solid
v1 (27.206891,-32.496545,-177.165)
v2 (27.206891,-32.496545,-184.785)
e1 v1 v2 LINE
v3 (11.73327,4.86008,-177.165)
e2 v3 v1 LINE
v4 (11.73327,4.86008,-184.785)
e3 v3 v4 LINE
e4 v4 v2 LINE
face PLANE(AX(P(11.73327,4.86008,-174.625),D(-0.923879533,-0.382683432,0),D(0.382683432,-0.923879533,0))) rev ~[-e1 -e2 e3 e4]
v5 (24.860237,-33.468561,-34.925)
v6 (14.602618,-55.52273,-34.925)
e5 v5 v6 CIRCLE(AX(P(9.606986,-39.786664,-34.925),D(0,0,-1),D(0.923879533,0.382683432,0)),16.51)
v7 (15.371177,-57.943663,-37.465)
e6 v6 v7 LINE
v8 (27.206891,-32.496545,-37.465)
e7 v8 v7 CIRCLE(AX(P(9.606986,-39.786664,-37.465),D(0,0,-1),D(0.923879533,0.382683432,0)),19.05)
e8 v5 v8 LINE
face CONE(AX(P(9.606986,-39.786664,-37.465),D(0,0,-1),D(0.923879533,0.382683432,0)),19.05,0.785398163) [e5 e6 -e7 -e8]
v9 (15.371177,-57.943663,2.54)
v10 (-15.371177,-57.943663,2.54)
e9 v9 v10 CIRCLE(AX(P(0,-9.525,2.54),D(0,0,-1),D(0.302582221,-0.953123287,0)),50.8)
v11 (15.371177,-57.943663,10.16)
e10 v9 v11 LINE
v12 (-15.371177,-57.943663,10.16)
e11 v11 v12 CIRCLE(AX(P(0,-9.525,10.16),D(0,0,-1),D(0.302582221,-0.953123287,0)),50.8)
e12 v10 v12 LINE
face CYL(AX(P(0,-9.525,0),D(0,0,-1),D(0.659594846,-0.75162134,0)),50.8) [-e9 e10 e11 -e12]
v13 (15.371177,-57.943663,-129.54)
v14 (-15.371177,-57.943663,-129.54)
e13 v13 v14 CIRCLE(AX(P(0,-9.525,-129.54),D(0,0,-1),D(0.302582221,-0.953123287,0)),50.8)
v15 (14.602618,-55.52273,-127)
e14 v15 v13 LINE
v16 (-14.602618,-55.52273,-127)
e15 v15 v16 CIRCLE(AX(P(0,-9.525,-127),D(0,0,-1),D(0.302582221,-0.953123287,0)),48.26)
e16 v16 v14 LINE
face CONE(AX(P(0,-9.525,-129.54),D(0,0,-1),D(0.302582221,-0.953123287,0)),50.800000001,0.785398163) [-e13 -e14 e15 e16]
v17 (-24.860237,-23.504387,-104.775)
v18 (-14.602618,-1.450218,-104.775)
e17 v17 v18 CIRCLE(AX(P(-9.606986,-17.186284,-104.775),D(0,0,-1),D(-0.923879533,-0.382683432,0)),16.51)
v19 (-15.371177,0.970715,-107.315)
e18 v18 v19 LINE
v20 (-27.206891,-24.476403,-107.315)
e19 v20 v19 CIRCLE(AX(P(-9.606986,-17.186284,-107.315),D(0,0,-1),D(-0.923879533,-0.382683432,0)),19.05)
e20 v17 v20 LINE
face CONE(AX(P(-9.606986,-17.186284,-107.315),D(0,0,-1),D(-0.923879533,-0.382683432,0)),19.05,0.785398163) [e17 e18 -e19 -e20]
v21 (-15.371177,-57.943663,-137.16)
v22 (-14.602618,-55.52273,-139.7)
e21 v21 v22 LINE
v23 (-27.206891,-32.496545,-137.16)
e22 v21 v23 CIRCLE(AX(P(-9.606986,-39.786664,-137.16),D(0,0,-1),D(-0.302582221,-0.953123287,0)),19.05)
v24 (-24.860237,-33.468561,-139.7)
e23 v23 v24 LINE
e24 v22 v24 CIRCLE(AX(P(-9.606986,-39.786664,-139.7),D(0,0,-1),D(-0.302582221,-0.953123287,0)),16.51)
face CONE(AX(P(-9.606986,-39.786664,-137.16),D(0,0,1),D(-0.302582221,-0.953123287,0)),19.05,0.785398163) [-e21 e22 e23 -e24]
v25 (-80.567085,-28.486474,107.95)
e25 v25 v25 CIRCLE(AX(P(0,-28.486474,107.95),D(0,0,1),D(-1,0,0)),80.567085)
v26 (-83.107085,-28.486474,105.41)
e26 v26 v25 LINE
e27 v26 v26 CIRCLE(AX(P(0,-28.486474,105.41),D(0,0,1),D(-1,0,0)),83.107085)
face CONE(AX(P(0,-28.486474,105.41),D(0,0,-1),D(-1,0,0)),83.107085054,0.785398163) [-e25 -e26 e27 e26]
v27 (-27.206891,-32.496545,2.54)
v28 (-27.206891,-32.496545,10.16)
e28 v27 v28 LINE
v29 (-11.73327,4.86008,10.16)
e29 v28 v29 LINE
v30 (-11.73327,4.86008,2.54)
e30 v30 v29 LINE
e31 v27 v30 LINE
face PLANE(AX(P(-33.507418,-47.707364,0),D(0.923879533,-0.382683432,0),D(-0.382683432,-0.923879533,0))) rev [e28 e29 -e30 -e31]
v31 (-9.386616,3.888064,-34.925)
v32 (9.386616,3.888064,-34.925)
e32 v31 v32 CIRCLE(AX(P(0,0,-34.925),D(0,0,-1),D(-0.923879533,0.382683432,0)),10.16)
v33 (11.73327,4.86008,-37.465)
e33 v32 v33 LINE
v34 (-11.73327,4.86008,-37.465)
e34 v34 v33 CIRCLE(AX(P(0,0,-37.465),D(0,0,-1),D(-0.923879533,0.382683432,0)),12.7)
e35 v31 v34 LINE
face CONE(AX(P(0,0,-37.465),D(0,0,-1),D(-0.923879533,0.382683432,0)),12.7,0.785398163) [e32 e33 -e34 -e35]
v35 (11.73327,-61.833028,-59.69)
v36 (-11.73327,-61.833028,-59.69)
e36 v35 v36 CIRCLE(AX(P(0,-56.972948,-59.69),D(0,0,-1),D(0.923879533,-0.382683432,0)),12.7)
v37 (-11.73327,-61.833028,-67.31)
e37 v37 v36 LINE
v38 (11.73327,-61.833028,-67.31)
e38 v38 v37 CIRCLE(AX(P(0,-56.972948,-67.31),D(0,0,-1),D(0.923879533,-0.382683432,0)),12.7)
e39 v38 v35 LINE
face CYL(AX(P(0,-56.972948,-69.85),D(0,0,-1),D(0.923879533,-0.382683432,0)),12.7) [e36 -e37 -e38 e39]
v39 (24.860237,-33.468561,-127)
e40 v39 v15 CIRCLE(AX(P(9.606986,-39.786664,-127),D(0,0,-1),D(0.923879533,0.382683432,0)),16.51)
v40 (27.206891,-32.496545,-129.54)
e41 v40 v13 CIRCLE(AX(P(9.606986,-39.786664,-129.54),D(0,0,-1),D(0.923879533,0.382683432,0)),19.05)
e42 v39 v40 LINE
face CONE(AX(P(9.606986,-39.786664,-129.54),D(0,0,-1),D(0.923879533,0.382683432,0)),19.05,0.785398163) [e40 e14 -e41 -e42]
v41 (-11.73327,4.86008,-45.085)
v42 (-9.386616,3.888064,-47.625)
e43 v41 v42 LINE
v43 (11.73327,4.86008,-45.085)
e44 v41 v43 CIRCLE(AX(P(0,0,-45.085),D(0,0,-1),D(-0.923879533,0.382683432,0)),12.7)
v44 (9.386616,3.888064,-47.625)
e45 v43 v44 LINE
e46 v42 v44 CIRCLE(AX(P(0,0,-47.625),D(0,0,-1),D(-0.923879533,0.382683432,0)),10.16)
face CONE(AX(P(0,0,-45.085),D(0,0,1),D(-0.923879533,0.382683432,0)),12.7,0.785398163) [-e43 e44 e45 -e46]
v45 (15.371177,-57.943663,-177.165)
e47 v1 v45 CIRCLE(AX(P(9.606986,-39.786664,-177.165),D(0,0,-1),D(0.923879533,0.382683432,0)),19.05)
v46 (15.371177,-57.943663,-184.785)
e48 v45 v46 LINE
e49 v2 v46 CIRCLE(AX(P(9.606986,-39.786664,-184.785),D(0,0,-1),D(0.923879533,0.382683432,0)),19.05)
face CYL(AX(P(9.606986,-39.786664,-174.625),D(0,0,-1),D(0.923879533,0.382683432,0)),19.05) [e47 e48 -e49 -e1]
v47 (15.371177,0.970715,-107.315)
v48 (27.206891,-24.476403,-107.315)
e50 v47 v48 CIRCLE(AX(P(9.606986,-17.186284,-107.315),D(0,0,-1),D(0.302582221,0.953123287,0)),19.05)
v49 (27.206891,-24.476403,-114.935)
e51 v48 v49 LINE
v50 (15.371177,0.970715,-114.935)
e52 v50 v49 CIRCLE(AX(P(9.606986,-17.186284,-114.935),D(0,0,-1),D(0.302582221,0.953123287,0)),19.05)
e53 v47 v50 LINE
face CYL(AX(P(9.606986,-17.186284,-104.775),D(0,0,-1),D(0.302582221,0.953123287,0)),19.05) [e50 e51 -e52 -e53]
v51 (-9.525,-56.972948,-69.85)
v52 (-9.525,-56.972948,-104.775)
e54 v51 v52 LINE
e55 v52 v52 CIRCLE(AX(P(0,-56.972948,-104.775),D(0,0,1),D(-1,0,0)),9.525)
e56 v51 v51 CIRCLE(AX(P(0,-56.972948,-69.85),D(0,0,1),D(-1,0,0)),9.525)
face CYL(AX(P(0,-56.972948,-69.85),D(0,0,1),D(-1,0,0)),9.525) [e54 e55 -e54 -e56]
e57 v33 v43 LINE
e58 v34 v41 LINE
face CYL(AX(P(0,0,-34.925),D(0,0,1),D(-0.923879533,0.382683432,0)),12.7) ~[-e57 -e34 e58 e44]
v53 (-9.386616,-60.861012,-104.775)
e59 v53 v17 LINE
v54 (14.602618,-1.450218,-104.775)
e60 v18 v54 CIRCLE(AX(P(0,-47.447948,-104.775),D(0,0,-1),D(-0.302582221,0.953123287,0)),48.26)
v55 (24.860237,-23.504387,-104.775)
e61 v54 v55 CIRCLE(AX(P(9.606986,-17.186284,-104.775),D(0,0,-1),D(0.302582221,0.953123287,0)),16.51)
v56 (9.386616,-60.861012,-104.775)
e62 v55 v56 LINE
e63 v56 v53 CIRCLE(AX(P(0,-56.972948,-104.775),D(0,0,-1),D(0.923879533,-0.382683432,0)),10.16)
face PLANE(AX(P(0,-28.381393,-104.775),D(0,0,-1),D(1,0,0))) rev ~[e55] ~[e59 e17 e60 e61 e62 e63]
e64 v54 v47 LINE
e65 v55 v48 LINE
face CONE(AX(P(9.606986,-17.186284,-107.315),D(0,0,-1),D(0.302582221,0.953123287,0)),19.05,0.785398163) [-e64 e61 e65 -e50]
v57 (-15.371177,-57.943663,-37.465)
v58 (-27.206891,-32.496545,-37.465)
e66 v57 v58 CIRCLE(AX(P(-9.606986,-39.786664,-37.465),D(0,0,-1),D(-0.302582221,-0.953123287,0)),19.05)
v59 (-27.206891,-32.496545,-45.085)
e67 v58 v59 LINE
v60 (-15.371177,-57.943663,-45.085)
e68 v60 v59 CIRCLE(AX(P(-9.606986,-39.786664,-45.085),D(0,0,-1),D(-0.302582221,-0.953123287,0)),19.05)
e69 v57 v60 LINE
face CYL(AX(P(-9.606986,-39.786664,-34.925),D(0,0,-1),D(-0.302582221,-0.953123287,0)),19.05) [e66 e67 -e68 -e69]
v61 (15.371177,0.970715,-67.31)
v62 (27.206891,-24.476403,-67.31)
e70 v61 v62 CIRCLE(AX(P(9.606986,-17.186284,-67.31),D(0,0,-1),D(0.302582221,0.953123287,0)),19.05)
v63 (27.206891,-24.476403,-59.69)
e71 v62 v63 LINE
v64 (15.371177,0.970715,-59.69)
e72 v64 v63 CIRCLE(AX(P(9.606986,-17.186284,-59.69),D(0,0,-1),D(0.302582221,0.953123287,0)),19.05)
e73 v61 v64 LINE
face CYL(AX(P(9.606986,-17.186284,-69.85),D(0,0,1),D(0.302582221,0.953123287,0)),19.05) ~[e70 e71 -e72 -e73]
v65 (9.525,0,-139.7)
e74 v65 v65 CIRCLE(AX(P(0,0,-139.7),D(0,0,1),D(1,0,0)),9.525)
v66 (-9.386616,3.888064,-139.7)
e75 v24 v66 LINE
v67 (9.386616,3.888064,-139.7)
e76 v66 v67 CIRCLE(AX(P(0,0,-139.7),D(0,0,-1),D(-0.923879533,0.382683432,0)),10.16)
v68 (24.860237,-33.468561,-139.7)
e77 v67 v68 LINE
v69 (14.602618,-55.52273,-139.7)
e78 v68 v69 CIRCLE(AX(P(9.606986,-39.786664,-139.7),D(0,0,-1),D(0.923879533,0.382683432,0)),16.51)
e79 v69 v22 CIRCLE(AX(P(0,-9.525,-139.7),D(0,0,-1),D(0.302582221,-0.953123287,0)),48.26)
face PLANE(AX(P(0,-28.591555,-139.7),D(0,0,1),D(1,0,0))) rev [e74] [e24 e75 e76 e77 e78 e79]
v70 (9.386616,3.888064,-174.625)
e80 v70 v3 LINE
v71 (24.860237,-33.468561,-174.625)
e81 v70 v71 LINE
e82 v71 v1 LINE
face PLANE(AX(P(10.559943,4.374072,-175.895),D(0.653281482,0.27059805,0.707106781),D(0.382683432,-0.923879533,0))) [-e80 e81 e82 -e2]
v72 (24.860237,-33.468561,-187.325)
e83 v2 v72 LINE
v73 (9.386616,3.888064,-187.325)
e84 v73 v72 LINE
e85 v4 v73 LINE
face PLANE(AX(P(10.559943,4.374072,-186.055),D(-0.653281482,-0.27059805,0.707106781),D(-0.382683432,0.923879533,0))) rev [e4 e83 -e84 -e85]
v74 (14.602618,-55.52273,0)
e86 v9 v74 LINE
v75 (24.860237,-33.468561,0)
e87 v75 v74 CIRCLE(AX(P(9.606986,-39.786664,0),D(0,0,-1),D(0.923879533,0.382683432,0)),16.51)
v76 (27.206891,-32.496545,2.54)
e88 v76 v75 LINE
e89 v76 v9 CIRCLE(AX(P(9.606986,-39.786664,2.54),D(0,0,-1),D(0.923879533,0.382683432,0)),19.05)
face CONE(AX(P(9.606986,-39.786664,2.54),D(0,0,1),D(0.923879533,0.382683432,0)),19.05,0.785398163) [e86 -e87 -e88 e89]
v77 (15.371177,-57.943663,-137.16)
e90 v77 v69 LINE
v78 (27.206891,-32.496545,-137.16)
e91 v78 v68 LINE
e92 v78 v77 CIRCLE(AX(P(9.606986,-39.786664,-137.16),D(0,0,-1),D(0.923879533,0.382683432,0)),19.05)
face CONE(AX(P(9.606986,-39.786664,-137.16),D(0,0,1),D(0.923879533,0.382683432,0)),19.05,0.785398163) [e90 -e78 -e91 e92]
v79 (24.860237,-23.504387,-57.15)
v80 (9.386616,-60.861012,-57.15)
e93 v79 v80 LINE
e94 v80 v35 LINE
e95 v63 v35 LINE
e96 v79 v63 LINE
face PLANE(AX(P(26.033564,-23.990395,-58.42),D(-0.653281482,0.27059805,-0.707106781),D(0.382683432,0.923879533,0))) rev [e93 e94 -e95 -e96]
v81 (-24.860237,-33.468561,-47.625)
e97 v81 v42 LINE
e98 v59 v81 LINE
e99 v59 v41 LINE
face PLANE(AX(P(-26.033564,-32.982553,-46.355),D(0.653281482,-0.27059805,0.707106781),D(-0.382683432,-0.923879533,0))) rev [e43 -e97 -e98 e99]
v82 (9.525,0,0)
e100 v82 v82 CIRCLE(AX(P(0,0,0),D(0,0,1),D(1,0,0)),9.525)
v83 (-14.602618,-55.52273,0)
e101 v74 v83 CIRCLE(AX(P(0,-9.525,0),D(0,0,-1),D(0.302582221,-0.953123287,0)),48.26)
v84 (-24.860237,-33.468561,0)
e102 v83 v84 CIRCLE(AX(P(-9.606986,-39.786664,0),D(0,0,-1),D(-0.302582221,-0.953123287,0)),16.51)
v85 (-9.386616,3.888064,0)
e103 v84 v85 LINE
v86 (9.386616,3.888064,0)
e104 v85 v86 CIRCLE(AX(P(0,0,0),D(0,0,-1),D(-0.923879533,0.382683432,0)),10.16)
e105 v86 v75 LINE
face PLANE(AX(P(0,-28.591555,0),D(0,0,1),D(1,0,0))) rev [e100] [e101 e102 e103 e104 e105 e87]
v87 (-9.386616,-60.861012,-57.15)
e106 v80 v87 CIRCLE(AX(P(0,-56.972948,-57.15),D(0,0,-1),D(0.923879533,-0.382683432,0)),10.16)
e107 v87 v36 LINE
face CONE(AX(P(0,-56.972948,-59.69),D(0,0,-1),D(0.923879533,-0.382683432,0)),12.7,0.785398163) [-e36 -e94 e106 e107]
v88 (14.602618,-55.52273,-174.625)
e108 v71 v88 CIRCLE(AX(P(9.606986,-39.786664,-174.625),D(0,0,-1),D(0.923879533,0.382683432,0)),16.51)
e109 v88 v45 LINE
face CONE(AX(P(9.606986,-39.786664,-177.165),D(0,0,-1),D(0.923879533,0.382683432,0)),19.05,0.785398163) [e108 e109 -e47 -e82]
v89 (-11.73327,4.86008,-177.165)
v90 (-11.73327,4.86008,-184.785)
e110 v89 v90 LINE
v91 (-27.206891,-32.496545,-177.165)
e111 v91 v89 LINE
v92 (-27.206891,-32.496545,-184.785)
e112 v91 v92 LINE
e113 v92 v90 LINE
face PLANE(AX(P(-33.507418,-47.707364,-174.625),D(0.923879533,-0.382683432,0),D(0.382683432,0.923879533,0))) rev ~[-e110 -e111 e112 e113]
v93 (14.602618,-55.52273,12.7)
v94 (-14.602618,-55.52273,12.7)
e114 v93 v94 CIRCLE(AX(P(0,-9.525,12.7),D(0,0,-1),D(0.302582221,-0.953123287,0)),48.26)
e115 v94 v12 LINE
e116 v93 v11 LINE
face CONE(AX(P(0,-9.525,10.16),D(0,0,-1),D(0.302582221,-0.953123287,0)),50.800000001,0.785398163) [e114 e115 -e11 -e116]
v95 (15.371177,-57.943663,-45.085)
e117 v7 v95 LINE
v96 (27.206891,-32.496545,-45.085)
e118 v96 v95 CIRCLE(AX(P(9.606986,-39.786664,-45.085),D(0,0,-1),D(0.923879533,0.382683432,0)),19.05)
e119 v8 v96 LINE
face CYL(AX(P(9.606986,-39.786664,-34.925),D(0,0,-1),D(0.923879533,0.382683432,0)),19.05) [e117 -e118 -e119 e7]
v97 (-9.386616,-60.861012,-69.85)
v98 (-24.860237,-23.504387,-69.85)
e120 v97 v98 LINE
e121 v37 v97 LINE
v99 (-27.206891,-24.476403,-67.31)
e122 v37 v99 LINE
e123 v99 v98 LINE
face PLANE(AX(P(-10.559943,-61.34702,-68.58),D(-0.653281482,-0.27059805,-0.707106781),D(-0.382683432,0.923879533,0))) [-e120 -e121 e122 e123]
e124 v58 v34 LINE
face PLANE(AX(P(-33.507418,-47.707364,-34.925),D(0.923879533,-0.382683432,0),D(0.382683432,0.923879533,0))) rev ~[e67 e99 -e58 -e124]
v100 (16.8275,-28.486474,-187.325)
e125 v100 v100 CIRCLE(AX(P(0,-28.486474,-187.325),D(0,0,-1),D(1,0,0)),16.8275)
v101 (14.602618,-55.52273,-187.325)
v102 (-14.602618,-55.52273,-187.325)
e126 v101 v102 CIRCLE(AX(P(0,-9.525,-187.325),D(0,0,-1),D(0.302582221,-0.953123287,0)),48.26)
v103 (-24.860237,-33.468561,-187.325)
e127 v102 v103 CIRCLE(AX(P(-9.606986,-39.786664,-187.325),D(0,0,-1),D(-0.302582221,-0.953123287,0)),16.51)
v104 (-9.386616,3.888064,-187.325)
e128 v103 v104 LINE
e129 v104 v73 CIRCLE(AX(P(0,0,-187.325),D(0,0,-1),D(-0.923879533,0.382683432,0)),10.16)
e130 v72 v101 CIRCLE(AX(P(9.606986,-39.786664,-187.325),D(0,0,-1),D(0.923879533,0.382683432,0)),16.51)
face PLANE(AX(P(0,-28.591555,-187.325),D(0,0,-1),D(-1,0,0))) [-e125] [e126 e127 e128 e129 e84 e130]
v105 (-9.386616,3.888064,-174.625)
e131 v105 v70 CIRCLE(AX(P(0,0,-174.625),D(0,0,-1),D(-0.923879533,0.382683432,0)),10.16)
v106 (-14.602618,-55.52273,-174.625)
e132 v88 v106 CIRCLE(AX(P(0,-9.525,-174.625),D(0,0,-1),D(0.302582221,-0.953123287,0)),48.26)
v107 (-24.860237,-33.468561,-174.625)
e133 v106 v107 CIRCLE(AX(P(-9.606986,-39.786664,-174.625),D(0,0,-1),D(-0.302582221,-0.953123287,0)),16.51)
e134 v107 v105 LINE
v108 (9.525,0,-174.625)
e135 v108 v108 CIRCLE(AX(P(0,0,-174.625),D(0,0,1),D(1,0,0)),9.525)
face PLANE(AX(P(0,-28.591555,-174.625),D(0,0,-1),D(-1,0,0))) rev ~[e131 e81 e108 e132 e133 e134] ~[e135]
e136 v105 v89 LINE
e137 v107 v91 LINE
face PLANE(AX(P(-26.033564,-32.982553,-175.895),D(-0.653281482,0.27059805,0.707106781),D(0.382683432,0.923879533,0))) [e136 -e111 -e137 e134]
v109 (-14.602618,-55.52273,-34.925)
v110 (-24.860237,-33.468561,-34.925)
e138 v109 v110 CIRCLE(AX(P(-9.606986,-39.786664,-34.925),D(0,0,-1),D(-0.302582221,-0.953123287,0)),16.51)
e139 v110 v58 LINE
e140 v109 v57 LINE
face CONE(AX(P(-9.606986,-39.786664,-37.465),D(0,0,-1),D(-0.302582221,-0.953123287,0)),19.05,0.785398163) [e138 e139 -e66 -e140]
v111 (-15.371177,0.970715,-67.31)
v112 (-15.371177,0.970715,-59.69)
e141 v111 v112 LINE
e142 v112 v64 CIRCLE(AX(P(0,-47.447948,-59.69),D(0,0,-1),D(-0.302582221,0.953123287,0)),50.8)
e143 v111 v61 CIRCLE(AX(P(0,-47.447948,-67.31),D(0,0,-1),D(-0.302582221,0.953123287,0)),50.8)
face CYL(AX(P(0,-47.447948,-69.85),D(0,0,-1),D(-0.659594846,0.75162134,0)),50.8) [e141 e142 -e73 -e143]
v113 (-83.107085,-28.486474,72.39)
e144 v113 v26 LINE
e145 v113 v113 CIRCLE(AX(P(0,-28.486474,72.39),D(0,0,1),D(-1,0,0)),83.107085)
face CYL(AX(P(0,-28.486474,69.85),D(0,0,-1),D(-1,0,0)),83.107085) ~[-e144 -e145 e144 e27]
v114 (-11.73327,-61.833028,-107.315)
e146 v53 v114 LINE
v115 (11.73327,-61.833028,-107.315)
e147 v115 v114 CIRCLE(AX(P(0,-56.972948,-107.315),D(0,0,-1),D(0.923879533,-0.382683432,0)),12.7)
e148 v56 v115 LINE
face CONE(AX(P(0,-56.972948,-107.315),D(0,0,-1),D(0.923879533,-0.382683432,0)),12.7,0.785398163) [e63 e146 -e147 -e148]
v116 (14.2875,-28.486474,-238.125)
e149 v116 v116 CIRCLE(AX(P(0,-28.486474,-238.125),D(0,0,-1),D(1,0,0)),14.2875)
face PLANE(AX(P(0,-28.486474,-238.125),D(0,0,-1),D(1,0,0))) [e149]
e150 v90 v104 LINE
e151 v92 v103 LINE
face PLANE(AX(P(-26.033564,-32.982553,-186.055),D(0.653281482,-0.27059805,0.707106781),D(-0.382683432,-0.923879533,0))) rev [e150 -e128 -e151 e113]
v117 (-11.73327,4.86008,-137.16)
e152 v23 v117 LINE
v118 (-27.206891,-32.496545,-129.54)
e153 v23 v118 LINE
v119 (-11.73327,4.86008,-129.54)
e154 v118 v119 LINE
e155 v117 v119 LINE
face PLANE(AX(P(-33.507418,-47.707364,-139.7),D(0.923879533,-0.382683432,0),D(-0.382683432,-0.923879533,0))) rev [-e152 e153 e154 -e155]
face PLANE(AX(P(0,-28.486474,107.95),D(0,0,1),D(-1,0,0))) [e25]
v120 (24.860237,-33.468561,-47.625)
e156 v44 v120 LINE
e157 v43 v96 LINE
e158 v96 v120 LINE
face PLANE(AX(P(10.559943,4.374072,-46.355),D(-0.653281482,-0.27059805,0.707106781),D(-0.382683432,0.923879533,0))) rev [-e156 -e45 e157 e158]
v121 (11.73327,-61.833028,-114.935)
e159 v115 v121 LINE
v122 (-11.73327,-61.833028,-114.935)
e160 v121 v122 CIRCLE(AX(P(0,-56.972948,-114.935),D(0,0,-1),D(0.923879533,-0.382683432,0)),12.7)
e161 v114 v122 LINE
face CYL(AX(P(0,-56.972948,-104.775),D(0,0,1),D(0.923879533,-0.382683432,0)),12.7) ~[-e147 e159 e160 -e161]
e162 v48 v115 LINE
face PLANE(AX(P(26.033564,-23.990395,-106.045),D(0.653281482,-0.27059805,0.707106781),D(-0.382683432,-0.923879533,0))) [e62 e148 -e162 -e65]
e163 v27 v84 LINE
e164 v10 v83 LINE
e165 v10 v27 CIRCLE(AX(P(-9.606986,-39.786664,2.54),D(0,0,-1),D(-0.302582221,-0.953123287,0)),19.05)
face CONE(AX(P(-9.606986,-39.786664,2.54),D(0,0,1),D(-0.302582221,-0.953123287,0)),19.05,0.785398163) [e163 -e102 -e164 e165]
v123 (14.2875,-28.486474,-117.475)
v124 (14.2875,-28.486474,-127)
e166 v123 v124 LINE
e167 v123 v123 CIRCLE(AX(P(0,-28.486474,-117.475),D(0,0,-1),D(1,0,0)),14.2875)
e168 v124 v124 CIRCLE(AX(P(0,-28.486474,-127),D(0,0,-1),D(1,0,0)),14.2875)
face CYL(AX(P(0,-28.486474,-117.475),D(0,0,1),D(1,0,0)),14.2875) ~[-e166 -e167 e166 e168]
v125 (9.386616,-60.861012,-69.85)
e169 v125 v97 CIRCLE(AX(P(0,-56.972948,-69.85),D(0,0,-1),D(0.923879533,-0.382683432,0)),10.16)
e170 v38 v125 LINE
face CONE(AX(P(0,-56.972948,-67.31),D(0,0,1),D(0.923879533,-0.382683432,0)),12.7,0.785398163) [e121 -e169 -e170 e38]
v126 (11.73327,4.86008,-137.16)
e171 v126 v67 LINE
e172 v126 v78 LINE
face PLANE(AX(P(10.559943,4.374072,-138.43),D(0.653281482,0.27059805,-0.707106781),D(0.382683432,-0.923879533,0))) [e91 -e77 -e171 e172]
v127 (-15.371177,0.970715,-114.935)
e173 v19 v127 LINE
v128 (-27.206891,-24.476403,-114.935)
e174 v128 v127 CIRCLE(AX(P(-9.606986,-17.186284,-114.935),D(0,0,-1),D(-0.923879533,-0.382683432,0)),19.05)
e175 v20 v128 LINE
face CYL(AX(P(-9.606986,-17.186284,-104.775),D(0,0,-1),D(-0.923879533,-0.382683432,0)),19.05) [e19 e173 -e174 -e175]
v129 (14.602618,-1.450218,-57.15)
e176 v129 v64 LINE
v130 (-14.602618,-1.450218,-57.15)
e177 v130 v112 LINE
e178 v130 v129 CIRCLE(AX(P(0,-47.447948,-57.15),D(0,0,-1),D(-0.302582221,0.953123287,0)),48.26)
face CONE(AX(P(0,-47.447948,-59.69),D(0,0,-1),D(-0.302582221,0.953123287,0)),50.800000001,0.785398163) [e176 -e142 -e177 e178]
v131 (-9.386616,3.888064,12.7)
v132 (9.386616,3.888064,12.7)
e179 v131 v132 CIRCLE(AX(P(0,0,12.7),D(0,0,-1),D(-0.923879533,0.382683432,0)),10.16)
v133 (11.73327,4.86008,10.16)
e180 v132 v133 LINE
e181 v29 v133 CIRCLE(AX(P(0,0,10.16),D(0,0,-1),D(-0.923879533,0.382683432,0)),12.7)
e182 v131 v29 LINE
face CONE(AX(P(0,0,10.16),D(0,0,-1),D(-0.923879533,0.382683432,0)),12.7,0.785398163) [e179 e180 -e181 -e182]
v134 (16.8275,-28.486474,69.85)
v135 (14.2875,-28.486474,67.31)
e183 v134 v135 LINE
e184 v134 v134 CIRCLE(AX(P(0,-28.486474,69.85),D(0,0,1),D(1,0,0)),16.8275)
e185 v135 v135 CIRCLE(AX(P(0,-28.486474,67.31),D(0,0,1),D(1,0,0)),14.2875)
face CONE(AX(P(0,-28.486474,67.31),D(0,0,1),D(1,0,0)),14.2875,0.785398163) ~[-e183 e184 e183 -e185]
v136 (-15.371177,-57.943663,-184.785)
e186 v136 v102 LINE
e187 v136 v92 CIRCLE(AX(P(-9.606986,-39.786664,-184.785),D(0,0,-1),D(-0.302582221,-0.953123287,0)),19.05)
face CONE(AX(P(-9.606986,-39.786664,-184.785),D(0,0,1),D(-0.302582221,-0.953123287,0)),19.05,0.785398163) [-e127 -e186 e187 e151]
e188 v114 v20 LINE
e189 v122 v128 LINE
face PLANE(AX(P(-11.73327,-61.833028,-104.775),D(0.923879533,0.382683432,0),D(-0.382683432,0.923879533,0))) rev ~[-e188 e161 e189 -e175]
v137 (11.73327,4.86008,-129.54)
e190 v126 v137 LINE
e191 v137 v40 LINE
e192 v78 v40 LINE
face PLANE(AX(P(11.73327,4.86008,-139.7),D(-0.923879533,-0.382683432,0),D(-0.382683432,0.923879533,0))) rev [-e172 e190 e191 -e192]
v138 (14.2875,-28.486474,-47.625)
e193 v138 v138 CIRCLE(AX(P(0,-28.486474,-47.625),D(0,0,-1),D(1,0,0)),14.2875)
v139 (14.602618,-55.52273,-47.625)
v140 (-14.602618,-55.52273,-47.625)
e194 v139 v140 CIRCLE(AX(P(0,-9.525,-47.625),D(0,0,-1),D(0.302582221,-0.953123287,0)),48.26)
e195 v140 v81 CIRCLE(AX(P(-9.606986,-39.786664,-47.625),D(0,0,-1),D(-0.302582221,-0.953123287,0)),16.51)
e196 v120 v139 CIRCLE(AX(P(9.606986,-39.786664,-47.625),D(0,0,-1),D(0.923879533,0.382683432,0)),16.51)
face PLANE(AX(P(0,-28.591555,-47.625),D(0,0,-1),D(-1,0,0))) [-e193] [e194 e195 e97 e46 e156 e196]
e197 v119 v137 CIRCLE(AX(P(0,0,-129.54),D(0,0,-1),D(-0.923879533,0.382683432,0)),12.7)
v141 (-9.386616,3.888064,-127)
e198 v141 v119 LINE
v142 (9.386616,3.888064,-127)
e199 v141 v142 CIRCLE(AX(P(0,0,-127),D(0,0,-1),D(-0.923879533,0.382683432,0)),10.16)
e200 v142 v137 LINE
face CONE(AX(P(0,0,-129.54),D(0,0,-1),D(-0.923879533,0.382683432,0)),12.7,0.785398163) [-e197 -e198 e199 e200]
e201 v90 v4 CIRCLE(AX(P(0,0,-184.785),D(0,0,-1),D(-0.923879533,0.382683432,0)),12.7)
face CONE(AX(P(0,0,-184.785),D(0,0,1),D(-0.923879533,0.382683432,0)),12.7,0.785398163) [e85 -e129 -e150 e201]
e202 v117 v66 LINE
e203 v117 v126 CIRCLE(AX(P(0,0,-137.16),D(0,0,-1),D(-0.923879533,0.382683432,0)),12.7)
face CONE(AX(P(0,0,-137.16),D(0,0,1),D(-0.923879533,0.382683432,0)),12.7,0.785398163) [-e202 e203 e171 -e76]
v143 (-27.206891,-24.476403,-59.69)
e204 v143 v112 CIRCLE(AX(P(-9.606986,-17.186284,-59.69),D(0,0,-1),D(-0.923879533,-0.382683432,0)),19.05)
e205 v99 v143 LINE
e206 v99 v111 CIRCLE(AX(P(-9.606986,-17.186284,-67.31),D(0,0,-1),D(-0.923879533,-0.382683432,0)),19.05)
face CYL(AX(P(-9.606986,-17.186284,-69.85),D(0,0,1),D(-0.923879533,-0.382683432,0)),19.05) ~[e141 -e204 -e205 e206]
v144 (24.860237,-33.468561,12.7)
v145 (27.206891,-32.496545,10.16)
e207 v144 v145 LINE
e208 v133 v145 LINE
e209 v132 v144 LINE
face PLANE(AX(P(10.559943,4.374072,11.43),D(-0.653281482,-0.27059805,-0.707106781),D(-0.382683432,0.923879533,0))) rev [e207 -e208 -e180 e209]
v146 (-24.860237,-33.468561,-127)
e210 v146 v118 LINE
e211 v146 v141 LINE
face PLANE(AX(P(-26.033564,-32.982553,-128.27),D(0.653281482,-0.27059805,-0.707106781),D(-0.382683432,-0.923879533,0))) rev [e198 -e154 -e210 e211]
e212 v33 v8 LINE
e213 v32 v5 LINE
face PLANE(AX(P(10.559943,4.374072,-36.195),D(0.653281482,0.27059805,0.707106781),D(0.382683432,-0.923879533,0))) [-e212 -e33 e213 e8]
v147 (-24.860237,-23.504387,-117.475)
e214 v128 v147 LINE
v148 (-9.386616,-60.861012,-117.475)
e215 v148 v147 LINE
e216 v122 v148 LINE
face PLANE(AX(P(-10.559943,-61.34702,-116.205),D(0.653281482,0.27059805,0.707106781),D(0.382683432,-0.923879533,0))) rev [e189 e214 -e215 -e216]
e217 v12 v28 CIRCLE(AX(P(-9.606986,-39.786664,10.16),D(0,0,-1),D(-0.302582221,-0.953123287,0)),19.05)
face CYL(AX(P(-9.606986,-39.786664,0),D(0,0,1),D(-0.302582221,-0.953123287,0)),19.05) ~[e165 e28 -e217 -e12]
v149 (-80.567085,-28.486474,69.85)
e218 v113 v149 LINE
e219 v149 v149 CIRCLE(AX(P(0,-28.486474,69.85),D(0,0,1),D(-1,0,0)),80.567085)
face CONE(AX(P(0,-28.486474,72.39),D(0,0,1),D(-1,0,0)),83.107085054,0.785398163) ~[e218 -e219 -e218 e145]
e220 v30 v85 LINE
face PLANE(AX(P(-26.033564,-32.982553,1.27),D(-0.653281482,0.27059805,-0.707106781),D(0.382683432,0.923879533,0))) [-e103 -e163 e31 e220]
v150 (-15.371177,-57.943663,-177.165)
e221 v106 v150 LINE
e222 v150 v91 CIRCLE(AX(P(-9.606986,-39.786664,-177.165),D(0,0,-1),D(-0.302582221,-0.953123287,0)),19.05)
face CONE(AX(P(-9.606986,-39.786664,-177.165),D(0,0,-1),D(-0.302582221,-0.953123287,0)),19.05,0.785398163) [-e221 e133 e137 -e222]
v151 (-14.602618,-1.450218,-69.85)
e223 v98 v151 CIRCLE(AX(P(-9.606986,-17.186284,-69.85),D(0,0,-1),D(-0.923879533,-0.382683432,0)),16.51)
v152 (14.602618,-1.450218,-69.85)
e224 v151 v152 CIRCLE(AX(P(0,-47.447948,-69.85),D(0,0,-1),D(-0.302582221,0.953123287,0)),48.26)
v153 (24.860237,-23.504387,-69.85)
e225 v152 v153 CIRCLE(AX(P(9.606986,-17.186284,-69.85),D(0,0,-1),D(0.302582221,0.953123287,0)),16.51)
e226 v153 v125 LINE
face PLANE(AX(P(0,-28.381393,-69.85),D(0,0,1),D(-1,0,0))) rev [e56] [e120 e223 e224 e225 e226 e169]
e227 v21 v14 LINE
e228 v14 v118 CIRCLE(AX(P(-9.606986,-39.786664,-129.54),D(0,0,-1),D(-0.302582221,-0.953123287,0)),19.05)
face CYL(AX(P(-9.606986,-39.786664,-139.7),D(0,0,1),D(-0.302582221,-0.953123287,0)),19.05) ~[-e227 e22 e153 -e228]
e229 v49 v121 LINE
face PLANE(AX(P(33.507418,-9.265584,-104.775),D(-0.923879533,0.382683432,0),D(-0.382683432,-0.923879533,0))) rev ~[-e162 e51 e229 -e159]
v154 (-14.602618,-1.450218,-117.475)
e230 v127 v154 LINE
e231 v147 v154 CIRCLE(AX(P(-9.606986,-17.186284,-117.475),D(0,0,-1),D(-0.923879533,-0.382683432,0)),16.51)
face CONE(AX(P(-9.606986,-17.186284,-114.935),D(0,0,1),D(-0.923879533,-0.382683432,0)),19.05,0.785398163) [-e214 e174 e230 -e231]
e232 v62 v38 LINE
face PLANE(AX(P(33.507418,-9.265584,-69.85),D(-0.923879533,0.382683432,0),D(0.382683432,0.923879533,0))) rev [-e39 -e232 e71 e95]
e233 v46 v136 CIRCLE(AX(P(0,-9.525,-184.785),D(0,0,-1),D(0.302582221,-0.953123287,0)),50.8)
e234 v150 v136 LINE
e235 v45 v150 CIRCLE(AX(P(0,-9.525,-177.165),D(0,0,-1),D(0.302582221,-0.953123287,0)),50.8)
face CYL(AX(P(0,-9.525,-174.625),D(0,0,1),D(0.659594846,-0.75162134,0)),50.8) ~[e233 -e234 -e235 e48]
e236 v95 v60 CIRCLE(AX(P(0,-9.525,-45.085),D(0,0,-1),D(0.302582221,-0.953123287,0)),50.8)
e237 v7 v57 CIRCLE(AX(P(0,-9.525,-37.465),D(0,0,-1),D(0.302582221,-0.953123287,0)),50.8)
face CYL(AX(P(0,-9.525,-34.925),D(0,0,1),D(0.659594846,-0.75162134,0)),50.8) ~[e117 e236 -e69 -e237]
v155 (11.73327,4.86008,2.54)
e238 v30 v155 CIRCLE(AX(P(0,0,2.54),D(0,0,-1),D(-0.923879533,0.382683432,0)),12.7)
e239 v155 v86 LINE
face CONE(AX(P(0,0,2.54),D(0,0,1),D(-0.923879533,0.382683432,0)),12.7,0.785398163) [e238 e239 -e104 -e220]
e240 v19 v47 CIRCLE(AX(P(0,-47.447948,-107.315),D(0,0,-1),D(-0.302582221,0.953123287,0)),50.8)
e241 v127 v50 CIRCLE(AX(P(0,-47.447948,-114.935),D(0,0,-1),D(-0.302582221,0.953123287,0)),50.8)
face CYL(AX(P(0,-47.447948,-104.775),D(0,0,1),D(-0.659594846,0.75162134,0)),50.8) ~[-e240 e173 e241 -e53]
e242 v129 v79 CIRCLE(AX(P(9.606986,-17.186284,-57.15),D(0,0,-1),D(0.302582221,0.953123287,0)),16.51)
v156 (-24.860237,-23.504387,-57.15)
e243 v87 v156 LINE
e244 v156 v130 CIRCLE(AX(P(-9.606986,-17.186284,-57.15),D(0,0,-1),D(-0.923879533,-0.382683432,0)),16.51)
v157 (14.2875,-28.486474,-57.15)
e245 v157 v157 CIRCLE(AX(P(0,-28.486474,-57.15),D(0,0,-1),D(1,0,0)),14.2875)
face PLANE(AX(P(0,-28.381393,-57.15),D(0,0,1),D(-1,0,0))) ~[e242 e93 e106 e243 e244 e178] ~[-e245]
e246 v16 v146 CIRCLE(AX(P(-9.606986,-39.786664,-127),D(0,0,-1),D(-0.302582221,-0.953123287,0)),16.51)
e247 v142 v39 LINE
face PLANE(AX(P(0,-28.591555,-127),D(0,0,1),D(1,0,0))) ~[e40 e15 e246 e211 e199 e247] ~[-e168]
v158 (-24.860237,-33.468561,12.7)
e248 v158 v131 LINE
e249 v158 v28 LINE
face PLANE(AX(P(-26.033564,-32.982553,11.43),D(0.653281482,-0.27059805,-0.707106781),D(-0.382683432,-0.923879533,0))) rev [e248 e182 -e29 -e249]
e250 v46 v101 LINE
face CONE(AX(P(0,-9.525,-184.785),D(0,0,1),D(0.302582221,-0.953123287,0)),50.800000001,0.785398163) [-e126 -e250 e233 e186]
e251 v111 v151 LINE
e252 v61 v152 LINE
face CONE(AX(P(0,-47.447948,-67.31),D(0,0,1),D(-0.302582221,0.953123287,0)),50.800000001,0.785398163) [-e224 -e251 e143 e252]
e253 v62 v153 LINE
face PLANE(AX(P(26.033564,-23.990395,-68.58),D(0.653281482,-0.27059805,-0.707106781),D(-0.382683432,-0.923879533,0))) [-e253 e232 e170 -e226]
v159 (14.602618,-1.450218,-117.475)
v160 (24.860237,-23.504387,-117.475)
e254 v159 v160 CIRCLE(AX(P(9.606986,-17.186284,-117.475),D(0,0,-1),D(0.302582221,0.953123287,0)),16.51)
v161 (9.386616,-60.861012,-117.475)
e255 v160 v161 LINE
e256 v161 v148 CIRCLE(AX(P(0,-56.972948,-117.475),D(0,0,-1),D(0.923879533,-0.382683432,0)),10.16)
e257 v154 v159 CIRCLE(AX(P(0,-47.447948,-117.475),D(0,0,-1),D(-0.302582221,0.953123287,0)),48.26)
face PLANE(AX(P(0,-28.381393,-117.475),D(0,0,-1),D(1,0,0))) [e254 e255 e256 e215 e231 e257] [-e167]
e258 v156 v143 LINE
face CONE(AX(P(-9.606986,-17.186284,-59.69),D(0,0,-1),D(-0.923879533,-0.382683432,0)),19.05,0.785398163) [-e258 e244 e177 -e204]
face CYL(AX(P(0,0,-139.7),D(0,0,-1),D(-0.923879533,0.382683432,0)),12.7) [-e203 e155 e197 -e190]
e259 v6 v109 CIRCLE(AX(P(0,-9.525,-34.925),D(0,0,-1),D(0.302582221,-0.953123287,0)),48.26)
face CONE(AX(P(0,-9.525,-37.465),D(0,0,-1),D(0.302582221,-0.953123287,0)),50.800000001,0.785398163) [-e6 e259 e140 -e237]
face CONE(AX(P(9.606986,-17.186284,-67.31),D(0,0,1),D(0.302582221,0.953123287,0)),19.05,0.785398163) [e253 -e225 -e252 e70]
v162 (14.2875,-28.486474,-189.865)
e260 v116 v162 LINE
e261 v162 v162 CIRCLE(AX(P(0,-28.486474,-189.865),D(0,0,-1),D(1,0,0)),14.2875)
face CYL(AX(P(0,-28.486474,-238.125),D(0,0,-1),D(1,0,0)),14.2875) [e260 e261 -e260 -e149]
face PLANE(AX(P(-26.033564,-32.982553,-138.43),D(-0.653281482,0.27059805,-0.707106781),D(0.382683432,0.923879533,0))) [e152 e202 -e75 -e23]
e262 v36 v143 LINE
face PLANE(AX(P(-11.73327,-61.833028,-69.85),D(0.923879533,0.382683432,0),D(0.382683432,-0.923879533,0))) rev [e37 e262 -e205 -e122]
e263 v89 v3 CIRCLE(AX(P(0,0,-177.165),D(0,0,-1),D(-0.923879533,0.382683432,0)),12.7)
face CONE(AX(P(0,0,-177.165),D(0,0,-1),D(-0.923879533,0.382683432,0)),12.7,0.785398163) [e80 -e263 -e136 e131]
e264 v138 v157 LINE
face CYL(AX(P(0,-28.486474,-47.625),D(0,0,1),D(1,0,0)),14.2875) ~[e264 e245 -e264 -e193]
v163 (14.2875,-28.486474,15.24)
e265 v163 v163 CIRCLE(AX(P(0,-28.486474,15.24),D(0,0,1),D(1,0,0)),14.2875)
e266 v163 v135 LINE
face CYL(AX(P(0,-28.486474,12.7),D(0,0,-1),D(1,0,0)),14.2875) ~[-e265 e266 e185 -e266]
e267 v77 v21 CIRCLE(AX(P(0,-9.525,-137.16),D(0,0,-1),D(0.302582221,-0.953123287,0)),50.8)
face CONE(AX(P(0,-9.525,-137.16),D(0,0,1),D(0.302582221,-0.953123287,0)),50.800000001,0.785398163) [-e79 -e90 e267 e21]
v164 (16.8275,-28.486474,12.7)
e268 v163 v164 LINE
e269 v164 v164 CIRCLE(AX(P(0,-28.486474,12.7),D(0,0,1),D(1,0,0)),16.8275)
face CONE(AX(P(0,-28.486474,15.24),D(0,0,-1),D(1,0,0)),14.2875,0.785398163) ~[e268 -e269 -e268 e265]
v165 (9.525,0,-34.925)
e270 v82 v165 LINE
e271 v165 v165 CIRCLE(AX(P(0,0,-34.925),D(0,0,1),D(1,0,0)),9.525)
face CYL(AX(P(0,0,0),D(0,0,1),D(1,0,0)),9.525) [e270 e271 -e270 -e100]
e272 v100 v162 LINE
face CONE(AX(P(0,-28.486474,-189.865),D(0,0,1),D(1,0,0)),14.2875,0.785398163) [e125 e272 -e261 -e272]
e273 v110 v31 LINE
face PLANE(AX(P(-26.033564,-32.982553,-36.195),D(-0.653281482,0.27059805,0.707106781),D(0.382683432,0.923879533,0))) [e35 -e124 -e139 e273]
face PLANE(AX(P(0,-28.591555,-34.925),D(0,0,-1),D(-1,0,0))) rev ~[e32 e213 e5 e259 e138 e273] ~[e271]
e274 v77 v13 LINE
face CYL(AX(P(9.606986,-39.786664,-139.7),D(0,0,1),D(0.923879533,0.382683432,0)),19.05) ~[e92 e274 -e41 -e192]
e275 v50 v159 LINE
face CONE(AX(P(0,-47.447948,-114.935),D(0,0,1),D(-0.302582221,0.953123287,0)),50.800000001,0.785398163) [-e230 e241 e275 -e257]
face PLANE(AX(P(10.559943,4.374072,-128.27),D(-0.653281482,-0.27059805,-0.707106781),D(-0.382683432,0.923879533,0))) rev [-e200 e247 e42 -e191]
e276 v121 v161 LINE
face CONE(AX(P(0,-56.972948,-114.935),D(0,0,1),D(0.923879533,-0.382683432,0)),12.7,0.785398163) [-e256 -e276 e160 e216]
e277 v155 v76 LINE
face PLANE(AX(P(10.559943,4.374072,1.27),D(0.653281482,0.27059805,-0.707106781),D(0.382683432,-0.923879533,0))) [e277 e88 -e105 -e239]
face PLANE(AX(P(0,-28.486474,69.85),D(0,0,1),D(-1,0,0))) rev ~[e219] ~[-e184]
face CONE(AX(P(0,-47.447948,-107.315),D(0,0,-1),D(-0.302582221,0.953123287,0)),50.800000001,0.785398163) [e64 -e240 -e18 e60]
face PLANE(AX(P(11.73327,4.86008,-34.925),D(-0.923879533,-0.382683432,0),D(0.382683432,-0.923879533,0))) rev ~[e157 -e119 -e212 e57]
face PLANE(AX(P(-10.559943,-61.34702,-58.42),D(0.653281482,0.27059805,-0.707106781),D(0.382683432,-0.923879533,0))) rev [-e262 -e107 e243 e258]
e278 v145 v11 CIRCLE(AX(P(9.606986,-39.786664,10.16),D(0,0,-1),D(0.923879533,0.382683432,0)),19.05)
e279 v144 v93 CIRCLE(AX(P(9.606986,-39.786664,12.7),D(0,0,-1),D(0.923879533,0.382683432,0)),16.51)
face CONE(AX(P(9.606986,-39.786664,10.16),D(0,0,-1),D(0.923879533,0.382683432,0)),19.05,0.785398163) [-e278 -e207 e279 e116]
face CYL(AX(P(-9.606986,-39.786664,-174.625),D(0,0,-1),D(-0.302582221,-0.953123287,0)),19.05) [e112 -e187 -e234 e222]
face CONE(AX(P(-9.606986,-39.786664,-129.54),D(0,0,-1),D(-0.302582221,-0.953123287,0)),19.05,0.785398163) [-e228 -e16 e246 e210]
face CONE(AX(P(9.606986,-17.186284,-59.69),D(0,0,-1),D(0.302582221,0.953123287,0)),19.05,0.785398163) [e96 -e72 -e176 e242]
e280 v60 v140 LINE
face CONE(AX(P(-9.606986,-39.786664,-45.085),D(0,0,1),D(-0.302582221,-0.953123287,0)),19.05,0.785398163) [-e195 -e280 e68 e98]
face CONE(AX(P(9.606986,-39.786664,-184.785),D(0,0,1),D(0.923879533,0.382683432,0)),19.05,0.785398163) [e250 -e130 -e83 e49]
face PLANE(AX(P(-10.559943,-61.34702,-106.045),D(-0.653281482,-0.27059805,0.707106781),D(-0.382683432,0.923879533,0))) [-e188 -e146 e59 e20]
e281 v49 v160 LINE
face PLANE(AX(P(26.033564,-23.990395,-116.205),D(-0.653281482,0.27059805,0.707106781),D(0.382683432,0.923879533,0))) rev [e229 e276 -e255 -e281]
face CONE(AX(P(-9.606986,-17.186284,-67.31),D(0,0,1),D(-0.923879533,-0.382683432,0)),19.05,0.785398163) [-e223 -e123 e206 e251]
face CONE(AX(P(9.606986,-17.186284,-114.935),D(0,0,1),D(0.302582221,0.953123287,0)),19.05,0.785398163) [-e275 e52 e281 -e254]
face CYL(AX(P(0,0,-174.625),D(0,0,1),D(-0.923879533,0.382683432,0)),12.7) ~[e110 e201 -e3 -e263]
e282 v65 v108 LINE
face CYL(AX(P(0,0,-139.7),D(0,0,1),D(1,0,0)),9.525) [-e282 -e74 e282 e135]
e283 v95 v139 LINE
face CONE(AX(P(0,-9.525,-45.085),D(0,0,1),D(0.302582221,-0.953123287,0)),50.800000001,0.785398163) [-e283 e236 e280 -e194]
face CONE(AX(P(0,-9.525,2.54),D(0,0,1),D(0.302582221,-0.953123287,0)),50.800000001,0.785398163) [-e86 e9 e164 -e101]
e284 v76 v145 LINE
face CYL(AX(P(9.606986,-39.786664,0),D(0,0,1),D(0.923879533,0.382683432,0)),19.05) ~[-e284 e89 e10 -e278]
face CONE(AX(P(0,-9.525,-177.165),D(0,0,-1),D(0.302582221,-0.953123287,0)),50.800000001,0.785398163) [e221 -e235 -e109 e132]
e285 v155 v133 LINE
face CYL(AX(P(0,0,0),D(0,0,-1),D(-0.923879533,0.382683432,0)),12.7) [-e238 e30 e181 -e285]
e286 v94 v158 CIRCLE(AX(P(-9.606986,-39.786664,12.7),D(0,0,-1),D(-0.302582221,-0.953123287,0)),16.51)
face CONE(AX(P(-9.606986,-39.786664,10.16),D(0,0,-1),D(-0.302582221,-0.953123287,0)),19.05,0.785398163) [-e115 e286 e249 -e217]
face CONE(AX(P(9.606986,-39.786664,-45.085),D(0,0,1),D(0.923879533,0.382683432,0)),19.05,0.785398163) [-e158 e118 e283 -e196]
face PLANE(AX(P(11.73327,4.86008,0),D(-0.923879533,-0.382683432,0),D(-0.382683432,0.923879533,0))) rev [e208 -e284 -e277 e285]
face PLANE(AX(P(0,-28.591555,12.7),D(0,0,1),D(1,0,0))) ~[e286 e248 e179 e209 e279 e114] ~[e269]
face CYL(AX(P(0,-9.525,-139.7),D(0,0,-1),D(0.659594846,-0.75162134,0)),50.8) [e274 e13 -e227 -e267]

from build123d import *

# Parameters (mm, degrees)
SKETCH1_R             = 9.525
BOSS_EXTRUDE1_DEPTH   = 34.925
BOSS_EXTRUDE2_DEPTH   = 12.7
FILLET1_R             = 19.05
SKETCH3_R             = 14.2875
BOSS_EXTRUDE3_DEPTH   = 9.525
LPATTERN1_COUNT       = 3
LPATTERN1_PITCH       = 69.85
BODY_MOVE_COPY1_ANGLE = 180
LPATTERN2_COUNT       = 2
LPATTERN2_PITCH       = 69.85
SKETCH4_R             = 14.2875
BOSS_EXTRUDE4_DEPTH   = 57.15
BOSS_EXTRUDE5_START   = 50.8
SKETCH5_R             = 14.2875
BOSS_EXTRUDE5_DEPTH   = 50.8
SKETCH6_R             = 83.107085054
BOSS_EXTRUDE6_DEPTH   = 38.1
CHAMFER1_SIZE         = 2.54


with BuildPart() as part:
    # Sketch1 → Boss-Extrude1 (new body)
    with BuildSketch(Plane.XY):
        Circle(SKETCH1_R)
    extrude(amount=-BOSS_EXTRUDE1_DEPTH)

    # Sketch2 → Boss-Extrude2 (add)
    with BuildSketch(Plane(origin=(0, 0, -34.925), x_dir=(-1, 0, 0), z_dir=(0, 0, -1))):
        with BuildLine():
            Line((-11.733270063, 4.860079591), (-33.507418174, -47.707364088))
            ThreePointArc((-33.507418174, -47.707364088), (0, -60.325), (33.507418174, -47.707364088))
            Line((33.507418174, -47.707364088), (11.733270063, 4.860079591))
            ThreePointArc((11.733270063, 4.860079591), (0, 12.7), (-11.733270063, 4.860079591))
        make_face()
    extrude(amount=BOSS_EXTRUDE2_DEPTH)

    # Fillet1
    fillet1_edges = [part.edges().sort_by_distance(p)[0] for p in [
        (33.507418174, -47.707364088, -41.275),
        (-33.507418174, -47.707364088, -41.275),
    ]]
    fillet(fillet1_edges, radius=FILLET1_R)

    # Mirror2: part across plane


with BuildPart() as part_1:
    add(part.part)
    add(part.part.mirror(Plane.XY.offset(-17.4625)))


with BuildPart() as body_2:
    # Sketch3 → Boss-Extrude3 (new body)
    with BuildSketch(Plane(origin=(0, 0, -47.625), x_dir=(-1, 0, 0), z_dir=(0, 0, -1))):
        with Locations((0, -28.486474017)):
            Circle(SKETCH3_R)
    boss_extrude3 = extrude(amount=BOSS_EXTRUDE3_DEPTH)


with BuildPart() as lpattern1_1:
    # LPattern1: pattern copy
    add(part_1.part.moved(Location(Vector(0, 0, -1) * (1 * LPATTERN1_PITCH))))


with BuildPart() as lpattern1_2:
    # LPattern1: pattern copy
    add(part_1.part.moved(Location(Vector(0, 0, -1) * (2 * LPATTERN1_PITCH))))

    # Sketch5 → Boss-Extrude5 (add)
    with BuildSketch(Plane(origin=(0, 0, -187.325), x_dir=(-1, 0, 0), z_dir=(0, 0, -1)).offset(BOSS_EXTRUDE5_START)):
        with Locations((0, -28.486474017)):
            Circle(SKETCH5_R)
    extrude(amount=-BOSS_EXTRUDE5_DEPTH)


with BuildPart() as lpattern1_1_1:
    # Body-Move/Copy1: moved
    add(lpattern1_1.part.rotate(Axis((0, -28.486474017, 0), (0, 0, 1)), BODY_MOVE_COPY1_ANGLE))


with BuildPart() as lpattern2_1:
    # LPattern2: Boss-Extrude3 ×2
    with Locations(*[(0, 0, -i * LPATTERN2_PITCH) for i in range(1, LPATTERN2_COUNT)]):
        add(boss_extrude3)


with BuildPart() as part_2:
    add(part_1.part)

    # Sketch4 → Boss-Extrude4 (add)
    with BuildSketch(Plane.XY.offset(12.7)):
        with Locations((0, -28.486474017)):
            Circle(SKETCH4_R)
    extrude(amount=BOSS_EXTRUDE4_DEPTH)

    # Sketch6 → Boss-Extrude6 (add)
    with BuildSketch(Plane.XY.offset(69.85)):
        with Locations((0, -28.486474017)):
            Circle(SKETCH6_R)
    extrude(amount=BOSS_EXTRUDE6_DEPTH)


with BuildPart() as body_2_1:
    add(body_2.part)

    # Combine1: union LPattern1_1, LPattern2_1, LPattern1_2, part
    add(lpattern1_1_1.part)
    add(lpattern2_1.part)
    add(lpattern1_2.part)
    add(part_2.part)

    # Chamfer1
    chamfer1_edges = [body_2_1.edges().sort_by_distance(p)[0] for p in [
        (14.2875, -28.486474017, -187.325),
        (-14.2875, -28.486474017, 12.7),
        (-14.2875, -28.486474017, 69.85),
        (-26.88006293, -47.820548612, -174.625),
        (-19.470080331, -13.818232688, -174.625),
        (0, -60.325, -174.625),
        (0, 12.7, -174.625),
        (26.88006293, -47.820548612, -174.625),
        (19.470080331, -13.818232688, -174.625),
        (-26.88006293, -47.820548612, -187.325),
        (-19.470080331, -13.818232688, -187.325),
        (0, -60.325, -187.325),
        (0, 12.7, -187.325),
        (26.88006293, -47.820548612, -187.325),
        (19.470080331, -13.818232688, -187.325),
        (-26.88006293, -47.820548612, -139.7),
        (-19.470080331, -13.818232688, -139.7),
        (0, -60.325, -139.7),
        (0, 12.7, -139.7),
        (26.88006293, -47.820548612, -139.7),
        (19.470080331, -13.818232688, -139.7),
        (-26.88006293, -47.820548612, -127),
        (-19.470080331, -13.818232688, -127),
        (0, -60.325, -127),
        (0, 12.7, -127),
        (26.88006293, -47.820548612, -127),
        (19.470080331, -13.818232688, -127),
        (-19.470080331, -43.154715345, -117.475),
        (-26.88006293, -9.152399421, -117.475),
        (0, -69.672948033, -117.475),
        (0, 3.352051967, -117.475),
        (19.470080331, -43.154715345, -117.475),
        (26.88006293, -9.152399421, -117.475),
        (-19.470080331, -43.154715345, -104.775),
        (0, -69.672948033, -104.775),
        (-26.88006293, -9.152399421, -104.775),
        (19.470080331, -43.154715345, -104.775),
        (0, 3.352051967, -104.775),
        (26.88006293, -9.152399421, -104.775),
        (-19.470080331, -43.154715345, -69.85),
        (0, -69.672948033, -69.85),
        (-26.88006293, -9.152399421, -69.85),
        (19.470080331, -43.154715345, -69.85),
        (0, 3.352051967, -69.85),
        (26.88006293, -9.152399421, -69.85),
        (-19.470080331, -43.154715345, -57.15),
        (-26.88006293, -9.152399421, -57.15),
        (0, -69.672948033, -57.15),
        (0, 3.352051967, -57.15),
        (19.470080331, -43.154715345, -57.15),
        (26.88006293, -9.152399421, -57.15),
        (-19.470080331, -13.818232688, -47.625),
        (0, 12.7, -47.625),
        (-26.88006293, -47.820548612, -47.625),
        (19.470080331, -13.818232688, -47.625),
        (0, -60.325, -47.625),
        (26.88006293, -47.820548612, -47.625),
        (-19.470080331, -13.818232688, -34.925),
        (-26.88006293, -47.820548612, -34.925),
        (0, 12.7, -34.925),
        (0, -60.325, -34.925),
        (19.470080331, -13.818232688, -34.925),
        (26.88006293, -47.820548612, -34.925),
        (-19.470080331, -13.818232688, 0),
        (-26.88006293, -47.820548612, 0),
        (0, 12.7, 0),
        (0, -60.325, 0),
        (19.470080331, -13.818232688, 0),
        (26.88006293, -47.820548612, 0),
        (-19.470080331, -13.818232688, 12.7),
        (0, 12.7, 12.7),
        (-26.88006293, -47.820548612, 12.7),
        (19.470080331, -13.818232688, 12.7),
        (0, -60.325, 12.7),
        (26.88006293, -47.820548612, 12.7),
        (-83.107085054, -28.486474017, 69.85),
        (-83.107085054, -28.486474017, 107.95),
    ]]
    chamfer(chamfer1_edges, length=CHAMFER1_SIZE)


solid = body_2_1.part
